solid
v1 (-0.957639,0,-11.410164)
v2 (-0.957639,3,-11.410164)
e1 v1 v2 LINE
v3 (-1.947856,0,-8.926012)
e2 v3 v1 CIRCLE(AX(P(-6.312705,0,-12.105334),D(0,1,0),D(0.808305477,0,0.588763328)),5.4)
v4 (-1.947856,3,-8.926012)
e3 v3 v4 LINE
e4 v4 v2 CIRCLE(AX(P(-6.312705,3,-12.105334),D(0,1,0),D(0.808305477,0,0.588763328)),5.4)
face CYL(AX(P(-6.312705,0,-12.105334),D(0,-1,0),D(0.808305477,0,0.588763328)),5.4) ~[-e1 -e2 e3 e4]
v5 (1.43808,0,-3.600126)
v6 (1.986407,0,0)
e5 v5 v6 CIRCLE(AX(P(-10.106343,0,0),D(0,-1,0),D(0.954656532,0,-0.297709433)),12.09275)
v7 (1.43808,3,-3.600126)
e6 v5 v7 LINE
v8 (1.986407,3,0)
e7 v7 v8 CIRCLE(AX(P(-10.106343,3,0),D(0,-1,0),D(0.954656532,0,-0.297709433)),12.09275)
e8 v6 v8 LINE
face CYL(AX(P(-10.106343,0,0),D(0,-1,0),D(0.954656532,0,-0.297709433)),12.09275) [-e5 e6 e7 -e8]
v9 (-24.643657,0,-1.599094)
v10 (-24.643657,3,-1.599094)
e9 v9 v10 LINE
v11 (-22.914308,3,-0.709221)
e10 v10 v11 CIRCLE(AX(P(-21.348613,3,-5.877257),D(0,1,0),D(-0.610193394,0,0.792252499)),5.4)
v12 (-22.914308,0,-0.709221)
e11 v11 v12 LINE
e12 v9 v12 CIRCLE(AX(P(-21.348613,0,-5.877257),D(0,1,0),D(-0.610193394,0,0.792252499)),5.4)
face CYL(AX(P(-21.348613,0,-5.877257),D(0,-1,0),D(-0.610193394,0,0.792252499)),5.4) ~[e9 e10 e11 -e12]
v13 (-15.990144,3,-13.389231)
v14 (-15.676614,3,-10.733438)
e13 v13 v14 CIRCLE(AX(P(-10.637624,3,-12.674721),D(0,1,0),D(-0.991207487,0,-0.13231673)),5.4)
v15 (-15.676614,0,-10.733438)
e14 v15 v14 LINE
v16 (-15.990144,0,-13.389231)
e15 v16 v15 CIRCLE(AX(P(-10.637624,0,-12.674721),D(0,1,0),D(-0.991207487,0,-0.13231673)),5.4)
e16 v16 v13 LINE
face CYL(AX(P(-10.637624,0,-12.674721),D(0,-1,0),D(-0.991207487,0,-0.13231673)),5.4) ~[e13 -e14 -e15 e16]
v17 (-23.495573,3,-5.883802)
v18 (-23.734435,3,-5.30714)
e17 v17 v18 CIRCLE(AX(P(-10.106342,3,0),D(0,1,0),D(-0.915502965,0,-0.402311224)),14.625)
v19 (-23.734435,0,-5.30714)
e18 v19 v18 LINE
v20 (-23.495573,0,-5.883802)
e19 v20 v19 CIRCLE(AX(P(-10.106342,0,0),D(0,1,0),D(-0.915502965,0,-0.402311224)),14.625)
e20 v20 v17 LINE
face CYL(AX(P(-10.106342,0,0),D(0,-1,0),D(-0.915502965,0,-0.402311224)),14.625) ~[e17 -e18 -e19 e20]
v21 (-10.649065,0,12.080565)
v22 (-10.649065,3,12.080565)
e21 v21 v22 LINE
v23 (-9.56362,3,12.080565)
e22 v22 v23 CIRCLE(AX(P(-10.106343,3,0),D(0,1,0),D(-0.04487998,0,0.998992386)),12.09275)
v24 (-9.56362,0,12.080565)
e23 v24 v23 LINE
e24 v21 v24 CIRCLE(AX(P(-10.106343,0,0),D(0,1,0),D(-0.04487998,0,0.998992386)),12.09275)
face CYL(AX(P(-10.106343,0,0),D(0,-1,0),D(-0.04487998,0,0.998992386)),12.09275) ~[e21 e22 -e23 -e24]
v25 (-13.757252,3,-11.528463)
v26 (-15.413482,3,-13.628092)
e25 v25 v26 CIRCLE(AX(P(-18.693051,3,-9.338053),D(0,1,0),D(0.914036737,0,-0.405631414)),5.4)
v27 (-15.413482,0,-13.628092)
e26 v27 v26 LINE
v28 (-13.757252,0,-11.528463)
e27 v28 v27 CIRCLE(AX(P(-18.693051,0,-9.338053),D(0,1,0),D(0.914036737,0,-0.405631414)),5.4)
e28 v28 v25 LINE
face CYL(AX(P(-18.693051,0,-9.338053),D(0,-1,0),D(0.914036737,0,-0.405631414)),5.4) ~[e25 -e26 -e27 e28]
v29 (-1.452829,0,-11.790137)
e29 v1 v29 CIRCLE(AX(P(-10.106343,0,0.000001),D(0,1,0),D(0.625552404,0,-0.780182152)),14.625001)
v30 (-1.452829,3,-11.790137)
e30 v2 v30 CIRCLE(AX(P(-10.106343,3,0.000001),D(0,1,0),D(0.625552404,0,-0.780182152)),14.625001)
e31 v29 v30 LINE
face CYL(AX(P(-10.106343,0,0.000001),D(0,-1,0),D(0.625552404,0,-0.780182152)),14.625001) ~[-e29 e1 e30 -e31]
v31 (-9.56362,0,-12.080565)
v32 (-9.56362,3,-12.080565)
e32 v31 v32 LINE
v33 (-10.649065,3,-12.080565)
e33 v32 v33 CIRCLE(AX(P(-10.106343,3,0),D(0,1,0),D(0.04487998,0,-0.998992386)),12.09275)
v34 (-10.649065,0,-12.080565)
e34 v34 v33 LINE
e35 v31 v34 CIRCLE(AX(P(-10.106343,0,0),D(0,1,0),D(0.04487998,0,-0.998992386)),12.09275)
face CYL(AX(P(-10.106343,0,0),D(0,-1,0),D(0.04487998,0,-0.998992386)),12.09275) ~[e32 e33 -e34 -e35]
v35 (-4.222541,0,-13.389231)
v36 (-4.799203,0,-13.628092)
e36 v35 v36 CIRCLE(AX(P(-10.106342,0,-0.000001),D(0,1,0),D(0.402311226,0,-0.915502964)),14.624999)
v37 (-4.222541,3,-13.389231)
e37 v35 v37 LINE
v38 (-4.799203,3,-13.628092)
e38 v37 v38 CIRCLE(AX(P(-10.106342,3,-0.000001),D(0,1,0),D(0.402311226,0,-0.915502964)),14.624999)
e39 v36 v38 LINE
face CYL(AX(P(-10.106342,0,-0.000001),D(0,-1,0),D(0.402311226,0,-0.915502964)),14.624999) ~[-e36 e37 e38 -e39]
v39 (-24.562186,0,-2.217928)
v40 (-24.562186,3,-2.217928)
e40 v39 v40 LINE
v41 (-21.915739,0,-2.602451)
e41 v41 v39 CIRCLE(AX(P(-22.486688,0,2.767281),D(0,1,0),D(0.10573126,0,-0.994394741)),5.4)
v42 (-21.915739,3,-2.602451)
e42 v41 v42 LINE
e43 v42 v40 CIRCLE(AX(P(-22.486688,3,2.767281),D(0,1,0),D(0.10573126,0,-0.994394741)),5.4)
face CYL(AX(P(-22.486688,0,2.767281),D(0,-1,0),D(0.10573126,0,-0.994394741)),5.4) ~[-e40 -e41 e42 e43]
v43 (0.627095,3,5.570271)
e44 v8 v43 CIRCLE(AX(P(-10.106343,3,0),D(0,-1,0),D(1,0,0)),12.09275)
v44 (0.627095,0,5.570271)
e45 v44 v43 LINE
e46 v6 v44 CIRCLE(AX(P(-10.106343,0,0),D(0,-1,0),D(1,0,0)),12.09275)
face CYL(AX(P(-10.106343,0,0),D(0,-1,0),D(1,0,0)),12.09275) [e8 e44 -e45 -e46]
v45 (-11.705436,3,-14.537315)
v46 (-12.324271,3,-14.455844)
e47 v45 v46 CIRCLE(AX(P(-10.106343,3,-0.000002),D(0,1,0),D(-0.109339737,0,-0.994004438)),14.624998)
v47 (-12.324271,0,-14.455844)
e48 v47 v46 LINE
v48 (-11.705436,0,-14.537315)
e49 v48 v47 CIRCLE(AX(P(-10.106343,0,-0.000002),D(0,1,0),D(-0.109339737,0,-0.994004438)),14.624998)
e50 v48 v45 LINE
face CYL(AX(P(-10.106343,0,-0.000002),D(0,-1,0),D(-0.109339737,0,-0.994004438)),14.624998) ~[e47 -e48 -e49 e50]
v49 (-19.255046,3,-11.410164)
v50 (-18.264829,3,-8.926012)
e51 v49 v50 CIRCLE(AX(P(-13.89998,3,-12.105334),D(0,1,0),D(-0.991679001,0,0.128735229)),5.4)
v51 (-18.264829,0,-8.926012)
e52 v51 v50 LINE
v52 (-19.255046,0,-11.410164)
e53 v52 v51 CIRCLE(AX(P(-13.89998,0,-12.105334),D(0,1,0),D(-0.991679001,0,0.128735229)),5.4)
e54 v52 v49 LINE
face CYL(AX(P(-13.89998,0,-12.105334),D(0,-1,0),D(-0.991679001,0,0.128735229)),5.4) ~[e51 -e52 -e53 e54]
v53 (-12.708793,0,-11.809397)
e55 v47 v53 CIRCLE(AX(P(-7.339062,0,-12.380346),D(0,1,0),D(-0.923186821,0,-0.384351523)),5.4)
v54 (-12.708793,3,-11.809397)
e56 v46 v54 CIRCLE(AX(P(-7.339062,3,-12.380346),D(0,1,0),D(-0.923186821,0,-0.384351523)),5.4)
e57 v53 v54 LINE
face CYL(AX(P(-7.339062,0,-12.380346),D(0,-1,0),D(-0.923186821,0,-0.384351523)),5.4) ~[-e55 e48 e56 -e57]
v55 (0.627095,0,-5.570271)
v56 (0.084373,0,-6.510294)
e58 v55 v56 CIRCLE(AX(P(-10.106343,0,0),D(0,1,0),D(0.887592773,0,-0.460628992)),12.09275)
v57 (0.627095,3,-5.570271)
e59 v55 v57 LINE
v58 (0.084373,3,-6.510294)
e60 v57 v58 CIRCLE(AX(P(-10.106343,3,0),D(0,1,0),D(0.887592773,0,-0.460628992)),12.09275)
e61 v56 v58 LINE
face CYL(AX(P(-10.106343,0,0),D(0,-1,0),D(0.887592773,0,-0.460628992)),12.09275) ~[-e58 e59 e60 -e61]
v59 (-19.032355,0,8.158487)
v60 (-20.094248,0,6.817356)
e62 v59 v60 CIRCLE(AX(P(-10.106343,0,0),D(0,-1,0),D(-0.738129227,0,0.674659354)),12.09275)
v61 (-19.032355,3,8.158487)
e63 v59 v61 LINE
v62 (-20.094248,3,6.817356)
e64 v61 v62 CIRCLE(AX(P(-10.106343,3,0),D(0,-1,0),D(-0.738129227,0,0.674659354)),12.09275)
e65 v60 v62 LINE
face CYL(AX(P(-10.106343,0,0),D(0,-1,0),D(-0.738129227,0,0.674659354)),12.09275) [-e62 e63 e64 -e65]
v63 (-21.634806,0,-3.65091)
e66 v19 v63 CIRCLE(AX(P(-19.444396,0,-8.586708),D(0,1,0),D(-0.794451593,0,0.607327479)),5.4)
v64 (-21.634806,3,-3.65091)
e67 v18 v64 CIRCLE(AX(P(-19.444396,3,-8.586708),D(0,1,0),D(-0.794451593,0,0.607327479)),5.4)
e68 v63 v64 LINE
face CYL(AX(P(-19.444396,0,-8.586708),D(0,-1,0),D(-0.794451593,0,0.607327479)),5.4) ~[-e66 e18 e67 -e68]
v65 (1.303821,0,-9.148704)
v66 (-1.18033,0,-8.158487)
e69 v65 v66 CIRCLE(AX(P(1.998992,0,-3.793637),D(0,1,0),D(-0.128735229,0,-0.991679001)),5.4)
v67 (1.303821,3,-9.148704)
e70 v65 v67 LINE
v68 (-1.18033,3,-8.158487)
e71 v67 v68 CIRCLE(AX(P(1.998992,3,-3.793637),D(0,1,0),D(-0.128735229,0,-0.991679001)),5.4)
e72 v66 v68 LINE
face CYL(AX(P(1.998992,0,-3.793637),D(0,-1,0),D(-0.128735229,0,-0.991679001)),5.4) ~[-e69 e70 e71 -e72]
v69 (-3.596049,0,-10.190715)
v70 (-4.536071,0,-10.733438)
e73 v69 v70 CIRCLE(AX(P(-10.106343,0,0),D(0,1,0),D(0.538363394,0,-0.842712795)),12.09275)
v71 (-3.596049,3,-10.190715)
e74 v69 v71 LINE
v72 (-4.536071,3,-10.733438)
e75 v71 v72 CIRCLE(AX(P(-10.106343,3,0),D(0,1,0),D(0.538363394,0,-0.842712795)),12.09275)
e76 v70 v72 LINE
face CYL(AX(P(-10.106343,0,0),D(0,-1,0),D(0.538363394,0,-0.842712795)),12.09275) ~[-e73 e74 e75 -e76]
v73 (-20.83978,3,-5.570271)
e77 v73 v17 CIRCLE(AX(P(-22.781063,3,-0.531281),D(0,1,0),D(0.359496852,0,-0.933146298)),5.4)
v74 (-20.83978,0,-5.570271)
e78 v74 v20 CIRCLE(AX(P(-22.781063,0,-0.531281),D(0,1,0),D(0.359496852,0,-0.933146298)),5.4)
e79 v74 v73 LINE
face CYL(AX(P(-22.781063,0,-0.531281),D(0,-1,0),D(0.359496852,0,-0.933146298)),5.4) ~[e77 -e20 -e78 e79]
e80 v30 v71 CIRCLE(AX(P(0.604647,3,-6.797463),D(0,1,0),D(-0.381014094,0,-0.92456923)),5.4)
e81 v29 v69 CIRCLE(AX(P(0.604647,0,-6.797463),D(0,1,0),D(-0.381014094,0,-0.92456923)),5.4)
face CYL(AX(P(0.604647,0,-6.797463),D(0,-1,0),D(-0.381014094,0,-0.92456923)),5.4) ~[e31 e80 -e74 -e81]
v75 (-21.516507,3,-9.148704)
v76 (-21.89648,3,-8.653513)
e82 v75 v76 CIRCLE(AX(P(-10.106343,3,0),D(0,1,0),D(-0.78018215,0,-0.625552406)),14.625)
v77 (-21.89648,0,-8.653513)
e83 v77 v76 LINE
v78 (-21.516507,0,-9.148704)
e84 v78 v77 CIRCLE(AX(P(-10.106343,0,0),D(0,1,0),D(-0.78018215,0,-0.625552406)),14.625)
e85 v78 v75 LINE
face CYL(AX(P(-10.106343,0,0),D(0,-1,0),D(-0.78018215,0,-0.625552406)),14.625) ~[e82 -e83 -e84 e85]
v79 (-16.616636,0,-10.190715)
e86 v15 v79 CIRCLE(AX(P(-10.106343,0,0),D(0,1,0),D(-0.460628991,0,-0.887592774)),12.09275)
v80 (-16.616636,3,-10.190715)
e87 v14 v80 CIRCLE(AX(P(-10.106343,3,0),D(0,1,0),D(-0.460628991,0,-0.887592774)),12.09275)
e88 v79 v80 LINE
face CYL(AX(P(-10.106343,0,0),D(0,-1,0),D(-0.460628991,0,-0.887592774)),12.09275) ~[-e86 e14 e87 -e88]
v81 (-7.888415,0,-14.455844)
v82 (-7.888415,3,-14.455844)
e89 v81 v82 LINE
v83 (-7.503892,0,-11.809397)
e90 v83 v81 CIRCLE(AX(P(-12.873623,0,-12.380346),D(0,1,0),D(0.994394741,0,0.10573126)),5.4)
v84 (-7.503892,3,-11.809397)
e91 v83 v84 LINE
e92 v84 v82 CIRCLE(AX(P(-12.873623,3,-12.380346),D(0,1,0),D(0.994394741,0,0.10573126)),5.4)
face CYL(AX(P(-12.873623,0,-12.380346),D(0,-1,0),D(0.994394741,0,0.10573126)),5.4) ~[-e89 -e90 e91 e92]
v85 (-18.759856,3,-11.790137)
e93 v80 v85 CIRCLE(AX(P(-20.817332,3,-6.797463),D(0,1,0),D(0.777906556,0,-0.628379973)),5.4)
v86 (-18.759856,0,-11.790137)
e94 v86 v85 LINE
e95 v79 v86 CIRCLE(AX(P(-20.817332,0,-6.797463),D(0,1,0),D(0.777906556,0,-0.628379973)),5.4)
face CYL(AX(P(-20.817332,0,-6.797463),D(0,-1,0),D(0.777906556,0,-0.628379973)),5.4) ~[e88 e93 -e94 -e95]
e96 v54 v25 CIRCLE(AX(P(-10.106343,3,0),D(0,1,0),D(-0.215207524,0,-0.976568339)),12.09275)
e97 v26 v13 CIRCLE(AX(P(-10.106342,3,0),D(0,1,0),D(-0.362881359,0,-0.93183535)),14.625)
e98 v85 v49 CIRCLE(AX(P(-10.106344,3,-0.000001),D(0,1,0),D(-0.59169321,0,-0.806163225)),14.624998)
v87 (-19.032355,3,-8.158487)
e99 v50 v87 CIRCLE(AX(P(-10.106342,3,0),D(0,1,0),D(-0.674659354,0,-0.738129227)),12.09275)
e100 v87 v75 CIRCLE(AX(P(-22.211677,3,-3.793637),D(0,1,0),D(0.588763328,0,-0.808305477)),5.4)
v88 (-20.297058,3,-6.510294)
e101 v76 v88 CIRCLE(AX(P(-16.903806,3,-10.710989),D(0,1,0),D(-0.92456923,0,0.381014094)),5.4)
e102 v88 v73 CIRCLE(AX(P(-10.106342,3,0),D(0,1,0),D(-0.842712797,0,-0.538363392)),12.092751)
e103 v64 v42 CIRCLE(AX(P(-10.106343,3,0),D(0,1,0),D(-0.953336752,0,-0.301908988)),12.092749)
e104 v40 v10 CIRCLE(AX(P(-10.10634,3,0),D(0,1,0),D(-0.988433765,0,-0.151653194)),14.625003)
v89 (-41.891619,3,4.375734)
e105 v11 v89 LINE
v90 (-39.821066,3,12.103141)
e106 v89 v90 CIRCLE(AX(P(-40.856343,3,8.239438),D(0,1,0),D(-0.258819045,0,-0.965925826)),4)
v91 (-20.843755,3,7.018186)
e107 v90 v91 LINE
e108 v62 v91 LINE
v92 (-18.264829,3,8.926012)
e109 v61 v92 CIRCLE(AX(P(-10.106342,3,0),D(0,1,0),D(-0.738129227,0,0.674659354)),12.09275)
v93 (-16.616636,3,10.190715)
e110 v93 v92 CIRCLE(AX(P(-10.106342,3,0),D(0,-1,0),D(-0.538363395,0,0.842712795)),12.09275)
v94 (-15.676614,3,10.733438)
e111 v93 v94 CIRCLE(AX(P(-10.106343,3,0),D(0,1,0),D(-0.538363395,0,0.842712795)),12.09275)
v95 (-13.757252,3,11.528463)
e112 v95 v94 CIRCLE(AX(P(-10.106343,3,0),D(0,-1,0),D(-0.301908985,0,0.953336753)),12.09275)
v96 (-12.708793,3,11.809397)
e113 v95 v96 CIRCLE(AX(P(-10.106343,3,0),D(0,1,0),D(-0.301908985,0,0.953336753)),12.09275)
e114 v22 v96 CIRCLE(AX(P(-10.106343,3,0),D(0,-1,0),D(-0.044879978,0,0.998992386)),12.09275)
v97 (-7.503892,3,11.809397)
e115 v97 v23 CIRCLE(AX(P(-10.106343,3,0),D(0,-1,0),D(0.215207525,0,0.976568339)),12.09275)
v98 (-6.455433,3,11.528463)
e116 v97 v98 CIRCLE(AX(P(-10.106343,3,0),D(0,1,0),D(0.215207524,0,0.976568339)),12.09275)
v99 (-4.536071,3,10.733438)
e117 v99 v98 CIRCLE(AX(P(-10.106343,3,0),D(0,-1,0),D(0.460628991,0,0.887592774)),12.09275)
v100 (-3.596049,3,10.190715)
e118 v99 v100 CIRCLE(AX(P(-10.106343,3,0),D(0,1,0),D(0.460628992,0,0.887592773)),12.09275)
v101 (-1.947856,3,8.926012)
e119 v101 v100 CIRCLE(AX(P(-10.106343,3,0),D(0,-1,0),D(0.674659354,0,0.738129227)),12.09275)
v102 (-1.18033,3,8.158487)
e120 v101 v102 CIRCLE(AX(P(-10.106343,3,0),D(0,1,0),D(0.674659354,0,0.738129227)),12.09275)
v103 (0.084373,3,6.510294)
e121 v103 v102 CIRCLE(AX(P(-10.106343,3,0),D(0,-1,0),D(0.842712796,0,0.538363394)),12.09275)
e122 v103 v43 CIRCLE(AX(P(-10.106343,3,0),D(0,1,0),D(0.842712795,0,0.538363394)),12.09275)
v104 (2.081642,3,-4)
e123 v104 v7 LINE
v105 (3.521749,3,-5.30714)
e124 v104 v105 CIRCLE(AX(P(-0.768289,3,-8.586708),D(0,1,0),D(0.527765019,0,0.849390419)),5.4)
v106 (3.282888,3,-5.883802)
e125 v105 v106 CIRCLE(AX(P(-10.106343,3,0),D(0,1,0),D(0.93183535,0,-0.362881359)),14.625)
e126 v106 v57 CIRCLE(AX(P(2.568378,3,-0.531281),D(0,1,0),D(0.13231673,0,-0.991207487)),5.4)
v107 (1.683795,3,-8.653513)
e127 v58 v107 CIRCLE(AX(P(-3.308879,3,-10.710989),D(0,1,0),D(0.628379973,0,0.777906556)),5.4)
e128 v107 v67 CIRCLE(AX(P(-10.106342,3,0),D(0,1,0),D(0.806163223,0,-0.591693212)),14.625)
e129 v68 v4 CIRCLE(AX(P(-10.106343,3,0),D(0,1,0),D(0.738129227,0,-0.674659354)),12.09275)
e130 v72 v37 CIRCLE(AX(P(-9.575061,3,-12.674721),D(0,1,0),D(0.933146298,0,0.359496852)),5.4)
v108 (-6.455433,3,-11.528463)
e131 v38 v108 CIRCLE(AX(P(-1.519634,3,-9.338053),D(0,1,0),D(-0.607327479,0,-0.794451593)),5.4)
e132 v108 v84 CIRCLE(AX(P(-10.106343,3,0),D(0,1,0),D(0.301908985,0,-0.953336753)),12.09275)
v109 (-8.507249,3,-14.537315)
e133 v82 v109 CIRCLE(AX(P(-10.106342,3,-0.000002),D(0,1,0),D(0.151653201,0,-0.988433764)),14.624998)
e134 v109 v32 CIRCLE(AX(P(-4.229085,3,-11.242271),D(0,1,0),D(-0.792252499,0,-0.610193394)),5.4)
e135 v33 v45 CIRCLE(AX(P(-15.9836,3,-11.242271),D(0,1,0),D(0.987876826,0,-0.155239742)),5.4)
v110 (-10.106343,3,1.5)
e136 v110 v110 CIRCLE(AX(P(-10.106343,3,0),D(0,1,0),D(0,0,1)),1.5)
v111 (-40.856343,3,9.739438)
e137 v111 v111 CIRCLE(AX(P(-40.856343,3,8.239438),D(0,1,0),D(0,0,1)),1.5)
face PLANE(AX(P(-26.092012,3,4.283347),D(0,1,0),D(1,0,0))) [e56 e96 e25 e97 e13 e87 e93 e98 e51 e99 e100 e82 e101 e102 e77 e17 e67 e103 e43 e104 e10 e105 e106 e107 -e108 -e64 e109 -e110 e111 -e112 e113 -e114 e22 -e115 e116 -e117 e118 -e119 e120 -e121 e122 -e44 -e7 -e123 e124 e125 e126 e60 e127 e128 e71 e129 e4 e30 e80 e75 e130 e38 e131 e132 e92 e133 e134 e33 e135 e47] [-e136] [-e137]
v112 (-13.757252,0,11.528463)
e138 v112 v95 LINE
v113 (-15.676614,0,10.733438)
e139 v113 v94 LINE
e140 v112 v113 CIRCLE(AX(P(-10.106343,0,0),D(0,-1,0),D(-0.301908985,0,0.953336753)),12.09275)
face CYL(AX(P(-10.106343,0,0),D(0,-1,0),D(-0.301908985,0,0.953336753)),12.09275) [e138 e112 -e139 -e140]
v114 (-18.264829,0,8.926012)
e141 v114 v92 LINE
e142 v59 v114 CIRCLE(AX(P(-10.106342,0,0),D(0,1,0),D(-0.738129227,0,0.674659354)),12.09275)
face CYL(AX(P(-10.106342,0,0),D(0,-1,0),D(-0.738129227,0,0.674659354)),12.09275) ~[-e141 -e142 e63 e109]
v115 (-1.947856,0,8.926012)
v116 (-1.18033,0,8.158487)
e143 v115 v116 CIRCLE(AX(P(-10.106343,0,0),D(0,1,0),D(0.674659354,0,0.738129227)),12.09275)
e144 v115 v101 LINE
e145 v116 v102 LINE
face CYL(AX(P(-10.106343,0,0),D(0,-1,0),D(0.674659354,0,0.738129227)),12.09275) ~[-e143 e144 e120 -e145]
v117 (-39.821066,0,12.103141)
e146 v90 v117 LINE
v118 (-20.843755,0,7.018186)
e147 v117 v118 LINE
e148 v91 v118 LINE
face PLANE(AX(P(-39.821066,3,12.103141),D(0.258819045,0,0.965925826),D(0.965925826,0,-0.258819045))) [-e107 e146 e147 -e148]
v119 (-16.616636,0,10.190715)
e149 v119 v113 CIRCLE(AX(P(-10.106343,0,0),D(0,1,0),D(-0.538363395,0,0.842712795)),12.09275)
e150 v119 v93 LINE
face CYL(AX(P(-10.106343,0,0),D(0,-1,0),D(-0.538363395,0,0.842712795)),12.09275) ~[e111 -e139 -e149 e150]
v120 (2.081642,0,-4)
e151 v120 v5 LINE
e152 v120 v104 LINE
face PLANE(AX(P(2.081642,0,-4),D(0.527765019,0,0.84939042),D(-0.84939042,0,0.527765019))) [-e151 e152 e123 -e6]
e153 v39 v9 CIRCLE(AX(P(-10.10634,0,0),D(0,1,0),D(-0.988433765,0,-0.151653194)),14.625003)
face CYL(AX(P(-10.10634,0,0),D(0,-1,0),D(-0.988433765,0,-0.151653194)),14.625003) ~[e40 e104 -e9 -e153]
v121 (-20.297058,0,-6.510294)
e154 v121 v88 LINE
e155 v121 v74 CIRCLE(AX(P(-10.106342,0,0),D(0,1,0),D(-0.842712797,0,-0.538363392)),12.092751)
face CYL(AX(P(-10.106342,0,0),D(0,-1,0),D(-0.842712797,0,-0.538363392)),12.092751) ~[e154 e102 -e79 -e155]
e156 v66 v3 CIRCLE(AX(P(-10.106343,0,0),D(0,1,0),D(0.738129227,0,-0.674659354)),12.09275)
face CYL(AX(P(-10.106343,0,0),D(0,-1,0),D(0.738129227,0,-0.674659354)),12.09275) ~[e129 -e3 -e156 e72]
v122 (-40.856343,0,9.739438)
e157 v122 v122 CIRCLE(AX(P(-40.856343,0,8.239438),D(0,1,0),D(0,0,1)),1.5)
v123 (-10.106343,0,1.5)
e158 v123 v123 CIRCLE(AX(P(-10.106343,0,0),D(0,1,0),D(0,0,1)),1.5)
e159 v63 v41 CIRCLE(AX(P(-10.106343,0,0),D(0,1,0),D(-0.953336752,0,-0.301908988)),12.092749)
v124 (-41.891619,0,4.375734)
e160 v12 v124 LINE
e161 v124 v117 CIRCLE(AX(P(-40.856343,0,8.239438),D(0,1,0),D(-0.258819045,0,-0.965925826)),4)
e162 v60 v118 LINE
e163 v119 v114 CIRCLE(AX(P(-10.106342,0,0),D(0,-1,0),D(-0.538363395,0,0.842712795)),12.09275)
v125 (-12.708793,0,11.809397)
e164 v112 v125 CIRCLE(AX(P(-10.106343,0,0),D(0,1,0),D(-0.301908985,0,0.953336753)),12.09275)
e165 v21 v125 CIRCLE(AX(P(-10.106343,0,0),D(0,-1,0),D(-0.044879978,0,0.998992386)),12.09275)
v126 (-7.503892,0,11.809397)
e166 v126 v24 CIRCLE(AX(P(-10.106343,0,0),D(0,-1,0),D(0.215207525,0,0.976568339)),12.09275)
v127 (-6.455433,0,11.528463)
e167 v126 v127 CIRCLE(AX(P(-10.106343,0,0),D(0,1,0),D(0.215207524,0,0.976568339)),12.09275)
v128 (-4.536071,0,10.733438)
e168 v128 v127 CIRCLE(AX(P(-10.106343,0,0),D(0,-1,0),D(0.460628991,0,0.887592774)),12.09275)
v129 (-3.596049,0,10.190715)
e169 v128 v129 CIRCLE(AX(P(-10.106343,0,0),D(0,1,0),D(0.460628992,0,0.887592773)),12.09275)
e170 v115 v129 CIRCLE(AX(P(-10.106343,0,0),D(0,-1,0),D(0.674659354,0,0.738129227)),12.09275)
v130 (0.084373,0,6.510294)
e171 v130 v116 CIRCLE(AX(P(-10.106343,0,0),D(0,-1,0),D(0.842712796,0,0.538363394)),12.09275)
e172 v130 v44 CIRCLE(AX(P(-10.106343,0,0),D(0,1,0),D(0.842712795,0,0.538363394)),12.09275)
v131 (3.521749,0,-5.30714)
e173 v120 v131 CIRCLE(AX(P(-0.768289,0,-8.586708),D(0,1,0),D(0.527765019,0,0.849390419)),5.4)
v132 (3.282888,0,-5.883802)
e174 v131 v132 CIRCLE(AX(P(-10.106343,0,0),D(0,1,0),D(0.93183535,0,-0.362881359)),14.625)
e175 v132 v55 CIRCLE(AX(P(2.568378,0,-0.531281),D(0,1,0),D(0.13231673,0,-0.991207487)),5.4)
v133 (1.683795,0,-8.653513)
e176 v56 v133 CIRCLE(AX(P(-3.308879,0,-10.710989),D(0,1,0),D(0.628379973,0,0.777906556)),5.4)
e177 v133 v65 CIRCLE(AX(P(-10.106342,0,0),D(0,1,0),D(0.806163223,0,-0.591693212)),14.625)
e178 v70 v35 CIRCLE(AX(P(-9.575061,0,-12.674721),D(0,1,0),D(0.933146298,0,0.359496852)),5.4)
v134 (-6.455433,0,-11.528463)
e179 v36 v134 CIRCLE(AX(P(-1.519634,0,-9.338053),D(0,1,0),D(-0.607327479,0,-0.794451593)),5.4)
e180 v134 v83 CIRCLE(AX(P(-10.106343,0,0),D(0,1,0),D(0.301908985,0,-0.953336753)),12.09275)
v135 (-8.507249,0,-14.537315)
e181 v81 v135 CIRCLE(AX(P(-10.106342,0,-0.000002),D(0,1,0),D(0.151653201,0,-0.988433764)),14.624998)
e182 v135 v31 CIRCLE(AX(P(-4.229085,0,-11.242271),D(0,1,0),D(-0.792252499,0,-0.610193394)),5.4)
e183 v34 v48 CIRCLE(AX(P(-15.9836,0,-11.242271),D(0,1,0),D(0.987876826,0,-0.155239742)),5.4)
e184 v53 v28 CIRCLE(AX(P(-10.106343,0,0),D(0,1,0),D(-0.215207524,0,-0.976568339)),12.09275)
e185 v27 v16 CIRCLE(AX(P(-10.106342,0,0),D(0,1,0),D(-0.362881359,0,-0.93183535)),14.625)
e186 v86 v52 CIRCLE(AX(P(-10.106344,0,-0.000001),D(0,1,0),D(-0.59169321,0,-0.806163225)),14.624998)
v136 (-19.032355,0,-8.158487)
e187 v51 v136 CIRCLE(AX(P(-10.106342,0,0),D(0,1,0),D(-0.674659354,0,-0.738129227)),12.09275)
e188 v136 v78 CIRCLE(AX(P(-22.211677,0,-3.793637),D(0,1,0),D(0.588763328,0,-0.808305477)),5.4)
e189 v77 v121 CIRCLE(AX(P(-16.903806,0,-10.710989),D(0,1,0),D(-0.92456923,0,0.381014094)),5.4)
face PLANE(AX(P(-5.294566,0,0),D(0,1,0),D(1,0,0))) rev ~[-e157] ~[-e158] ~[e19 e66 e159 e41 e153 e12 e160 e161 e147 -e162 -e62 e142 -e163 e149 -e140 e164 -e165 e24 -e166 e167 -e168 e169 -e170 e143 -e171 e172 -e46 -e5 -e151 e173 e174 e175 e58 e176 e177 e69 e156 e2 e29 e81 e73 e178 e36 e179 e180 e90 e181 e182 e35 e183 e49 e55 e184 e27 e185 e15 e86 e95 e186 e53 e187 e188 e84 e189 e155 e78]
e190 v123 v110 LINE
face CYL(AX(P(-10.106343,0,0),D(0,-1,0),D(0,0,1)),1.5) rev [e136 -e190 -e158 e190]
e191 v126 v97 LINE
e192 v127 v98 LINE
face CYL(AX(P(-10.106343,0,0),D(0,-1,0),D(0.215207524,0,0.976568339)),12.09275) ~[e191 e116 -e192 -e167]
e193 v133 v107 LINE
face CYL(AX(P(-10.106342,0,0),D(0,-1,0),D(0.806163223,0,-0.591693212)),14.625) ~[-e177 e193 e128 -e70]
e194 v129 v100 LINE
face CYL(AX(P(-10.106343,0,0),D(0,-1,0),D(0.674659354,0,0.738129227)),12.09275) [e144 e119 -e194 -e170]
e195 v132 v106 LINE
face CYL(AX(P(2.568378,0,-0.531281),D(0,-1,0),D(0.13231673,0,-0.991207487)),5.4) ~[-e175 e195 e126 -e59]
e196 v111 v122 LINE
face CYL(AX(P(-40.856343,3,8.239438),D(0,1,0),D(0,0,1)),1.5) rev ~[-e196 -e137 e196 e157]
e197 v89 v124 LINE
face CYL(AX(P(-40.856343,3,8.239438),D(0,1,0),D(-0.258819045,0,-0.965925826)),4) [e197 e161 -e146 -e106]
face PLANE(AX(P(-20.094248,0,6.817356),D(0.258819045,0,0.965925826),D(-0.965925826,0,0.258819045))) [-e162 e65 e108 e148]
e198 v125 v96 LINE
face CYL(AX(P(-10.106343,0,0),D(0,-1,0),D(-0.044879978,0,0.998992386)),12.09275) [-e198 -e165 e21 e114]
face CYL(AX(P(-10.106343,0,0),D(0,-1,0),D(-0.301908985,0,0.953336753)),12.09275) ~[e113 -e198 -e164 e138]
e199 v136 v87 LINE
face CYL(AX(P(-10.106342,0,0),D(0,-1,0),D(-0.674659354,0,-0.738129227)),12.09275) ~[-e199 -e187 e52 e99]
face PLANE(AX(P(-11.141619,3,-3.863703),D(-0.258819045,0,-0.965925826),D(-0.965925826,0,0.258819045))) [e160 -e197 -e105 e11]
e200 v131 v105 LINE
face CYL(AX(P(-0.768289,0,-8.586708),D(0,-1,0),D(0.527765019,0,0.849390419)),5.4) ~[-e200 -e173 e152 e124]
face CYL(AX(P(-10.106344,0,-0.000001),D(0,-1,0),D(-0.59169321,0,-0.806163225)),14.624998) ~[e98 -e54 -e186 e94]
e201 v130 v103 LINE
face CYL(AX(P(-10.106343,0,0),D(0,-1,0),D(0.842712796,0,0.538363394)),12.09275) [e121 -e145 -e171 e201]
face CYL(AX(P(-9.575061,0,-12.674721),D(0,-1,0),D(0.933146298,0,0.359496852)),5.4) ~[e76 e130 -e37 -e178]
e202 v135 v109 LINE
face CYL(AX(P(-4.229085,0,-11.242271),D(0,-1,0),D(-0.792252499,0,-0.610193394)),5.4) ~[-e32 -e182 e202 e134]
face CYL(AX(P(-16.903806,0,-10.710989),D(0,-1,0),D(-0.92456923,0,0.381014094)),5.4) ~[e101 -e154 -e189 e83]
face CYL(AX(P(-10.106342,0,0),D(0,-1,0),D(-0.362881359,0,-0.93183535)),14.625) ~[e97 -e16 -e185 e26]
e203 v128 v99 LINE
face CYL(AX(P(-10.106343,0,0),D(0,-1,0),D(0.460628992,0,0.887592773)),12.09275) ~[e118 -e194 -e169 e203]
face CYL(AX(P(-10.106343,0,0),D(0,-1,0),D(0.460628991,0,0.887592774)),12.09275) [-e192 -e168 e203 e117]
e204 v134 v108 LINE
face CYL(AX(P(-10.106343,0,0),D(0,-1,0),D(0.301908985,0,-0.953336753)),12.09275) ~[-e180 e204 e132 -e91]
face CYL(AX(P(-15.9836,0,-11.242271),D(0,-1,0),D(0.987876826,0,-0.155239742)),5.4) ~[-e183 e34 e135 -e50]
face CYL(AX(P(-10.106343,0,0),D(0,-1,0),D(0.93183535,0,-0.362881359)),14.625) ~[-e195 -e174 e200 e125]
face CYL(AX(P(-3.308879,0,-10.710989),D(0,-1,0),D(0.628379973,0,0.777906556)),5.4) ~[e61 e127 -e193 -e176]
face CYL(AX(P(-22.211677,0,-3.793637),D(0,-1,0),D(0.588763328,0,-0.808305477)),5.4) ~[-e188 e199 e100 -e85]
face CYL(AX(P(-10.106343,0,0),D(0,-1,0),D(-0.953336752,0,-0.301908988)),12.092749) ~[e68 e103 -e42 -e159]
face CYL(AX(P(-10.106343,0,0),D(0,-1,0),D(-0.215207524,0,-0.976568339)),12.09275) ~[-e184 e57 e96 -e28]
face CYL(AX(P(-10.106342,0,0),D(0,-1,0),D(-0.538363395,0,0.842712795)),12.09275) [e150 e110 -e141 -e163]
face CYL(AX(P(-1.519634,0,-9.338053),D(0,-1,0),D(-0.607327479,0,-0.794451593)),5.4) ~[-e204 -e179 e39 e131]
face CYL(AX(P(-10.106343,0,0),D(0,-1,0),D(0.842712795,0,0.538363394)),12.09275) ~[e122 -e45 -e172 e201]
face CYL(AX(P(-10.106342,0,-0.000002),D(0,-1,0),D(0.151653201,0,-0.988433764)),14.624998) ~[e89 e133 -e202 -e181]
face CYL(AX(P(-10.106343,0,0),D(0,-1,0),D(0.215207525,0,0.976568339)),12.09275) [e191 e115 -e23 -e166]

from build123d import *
from build123d.topology import SkipClean

# Parameters (mm, degrees)
SKETCH1_R           = 1.5
BOSS_EXTRUDE1_DEPTH = 3
SKETCH3_R           = 1.5
BOSS_EXTRUDE2_DEPTH = 3
CUT_EXTRUDE1_START  = -3
CUT_EXTRUDE1_DEPTH  = 3


with BuildPart() as part:
    # Sketch1 → Boss-Extrude1 (new body)
    with BuildSketch(Plane(origin=(0, 0, 0), x_dir=(1, 0, 0), z_dir=(0, 1, 0))):
        with BuildLine():
            Line((20.643657446, 4), (2.081641936, 4))
            ThreePointArc((2.081641936, 4), (2.861028333, 4.588201733), (3.521749436, 5.30713988))
            ThreePointArc((3.521749436, 5.30713988), (3.405395609, 5.596745198), (3.282888305, 5.883801663))
            ThreePointArc((3.282888305, 5.883801663), (1.93527598, 5.894040025), (0.627094961, 5.57027124))
            ThreePointArc((0.627094961, 5.57027124), (0.366286148, 6.046375), (0.084372603, 6.510293938))
            ThreePointArc((0.084372603, 6.510293938), (1.018855105, 7.48132754), (1.683794586, 8.65351323))
            ThreePointArc((1.683794586, 8.65351323), (1.496450048, 8.903135899), (1.303821399, 9.148703928))
            ThreePointArc((1.303821399, 9.148703928), (-0.000522033, 8.809805691), (-1.180330337, 8.158486898))
            ThreePointArc((-1.180330337, 8.158486898), (-1.555477026, 8.550865528), (-1.947855656, 8.926012217))
            ThreePointArc((-1.947855656, 8.926012217), (-1.296536862, 10.105820521), (-0.957638625, 11.410163953))
            ThreePointArc((-0.957638625, 11.410163953), (-1.203206655, 11.602792602), (-1.452829324, 11.79013714))
            ThreePointArc((-1.452829324, 11.79013714), (-2.625015014, 11.125197659), (-3.596048616, 10.190715157))
            ThreePointArc((-3.596048616, 10.190715157), (-4.059967554, 10.472628702), (-4.536071314, 10.733437515))
            ThreePointArc((-4.536071314, 10.733437515), (-4.212302529, 12.041618533), (-4.222540891, 13.389230859))
            ThreePointArc((-4.222540891, 13.389230859), (-4.509597355, 13.511738163), (-4.799202674, 13.62809199))
            ThreePointArc((-4.799202674, 13.62809199), (-5.759348103, 12.682425791), (-6.455432668, 11.528463019))
            ThreePointArc((-6.455432668, 11.528463019), (-6.976508546, 11.680699536), (-7.503891752, 11.809396783))
            ThreePointArc((-7.503891752, 11.809396783), (-7.529737283, 13.156800143), (-7.888414517, 14.455843809))
            ThreePointArc((-7.888414517, 14.455843809), (-8.197396993, 14.499881098), (-8.507248835, 14.537314892))
            ThreePointArc((-8.507248835, 14.537314892), (-9.18992168, 13.375367565), (-9.563620196, 12.080565177))
            ThreePointArc((-9.563620196, 12.080565177), (-10.106342554, 12.09275), (-10.649064912, 12.080565177))
            ThreePointArc((-10.649064912, 12.080565177), (-11.022763428, 13.375367565), (-11.705436272, 14.537314892))
            ThreePointArc((-11.705436272, 14.537314892), (-12.015288115, 14.499881098), (-12.324270591, 14.455843809))
            ThreePointArc((-12.324270591, 14.455843809), (-12.682947825, 13.156800143), (-12.708793355, 11.809396783))
            ThreePointArc((-12.708793355, 11.809396783), (-13.236176561, 11.680699536), (-13.757252439, 11.528463019))
            ThreePointArc((-13.757252439, 11.528463019), (-14.453337005, 12.682425791), (-15.413482434, 13.62809199))
            ThreePointArc((-15.413482434, 13.62809199), (-15.703087752, 13.511738163), (-15.990144217, 13.389230859))
            ThreePointArc((-15.990144217, 13.389230859), (-16.000382579, 12.041618533), (-15.676613793, 10.733437515))
            ThreePointArc((-15.676613793, 10.733437515), (-16.152717554, 10.472628702), (-16.616636492, 10.190715157))
            ThreePointArc((-16.616636492, 10.190715157), (-17.587670094, 11.125197659), (-18.759855783, 11.79013714))
            ThreePointArc((-18.759855783, 11.79013714), (-19.009478453, 11.602792602), (-19.255046482, 11.410163953))
            ThreePointArc((-19.255046482, 11.410163953), (-18.916148245, 10.105820521), (-18.264829452, 8.926012217))
            ThreePointArc((-18.264829452, 8.926012217), (-18.657208082, 8.550865528), (-19.032354771, 8.158486898))
            ThreePointArc((-19.032354771, 8.158486898), (-20.212163074, 8.809805691), (-21.516506507, 9.148703928))
            ThreePointArc((-21.516506507, 9.148703928), (-21.709135156, 8.903135899), (-21.896479694, 8.65351323))
            ThreePointArc((-21.896479694, 8.65351323), (-21.231540213, 7.48132754), (-20.297057711, 6.510293938))
            ThreePointArc((-20.297057711, 6.510293938), (-20.578971255, 6.046375), (-20.839780068, 5.57027124))
            ThreePointArc((-20.839780068, 5.57027124), (-22.147961087, 5.894040025), (-23.495573413, 5.883801663))
            ThreePointArc((-23.495573413, 5.883801663), (-23.618080717, 5.596745198), (-23.734434544, 5.30713988))
            ThreePointArc((-23.734434544, 5.30713988), (-22.788768345, 4.346994451), (-21.634805572, 3.650909885))
            ThreePointArc((-21.634805572, 3.650909885), (-21.78704209, 3.129834008), (-21.915739337, 2.602450802))
            ThreePointArc((-21.915739337, 2.602450802), (-23.263142697, 2.576605271), (-24.562186363, 2.217928037))
            ThreePointArc((-24.562186363, 2.217928037), (-24.606223651, 1.908945561), (-24.643657446, 1.599093719))
            ThreePointArc((-24.643657446, 1.599093719), (-23.481710119, 0.916420874), (-22.186907731, 0.542722358))
            ThreePointArc((-22.186907731, 0.542722358), (-22.199092554, 0), (-22.186907731, -0.542722358))
            ThreePointArc((-22.186907731, -0.542722358), (-23.481710119, -0.916420874), (-24.643657446, -1.599093719))
            ThreePointArc((-24.643657446, -1.599093719), (-24.606223651, -1.908945561), (-24.562186363, -2.217928037))
            ThreePointArc((-24.562186363, -2.217928037), (-23.263142697, -2.576605271), (-21.915739337, -2.602450802))
            ThreePointArc((-21.915739337, -2.602450802), (-21.78704209, -3.129834008), (-21.634805572, -3.650909885))
            ThreePointArc((-21.634805572, -3.650909885), (-22.788768345, -4.346994451), (-23.734434544, -5.30713988))
            ThreePointArc((-23.734434544, -5.30713988), (-23.618080717, -5.596745198), (-23.495573413, -5.883801663))
            ThreePointArc((-23.495573413, -5.883801663), (-22.147961087, -5.894040025), (-20.839780068, -5.57027124))
            ThreePointArc((-20.839780068, -5.57027124), (-20.578971255, -6.046375), (-20.297057711, -6.510293938))
            ThreePointArc((-20.297057711, -6.510293938), (-21.231540213, -7.48132754), (-21.896479694, -8.65351323))
            ThreePointArc((-21.896479694, -8.65351323), (-21.709135156, -8.903135899), (-21.516506507, -9.148703928))
            ThreePointArc((-21.516506507, -9.148703928), (-20.212163074, -8.809805691), (-19.032354771, -8.158486898))
            ThreePointArc((-19.032354771, -8.158486898), (-18.657208082, -8.550865528), (-18.264829452, -8.926012217))
            ThreePointArc((-18.264829452, -8.926012217), (-18.916148245, -10.105820521), (-19.255046482, -11.410163953))
            ThreePointArc((-19.255046482, -11.410163953), (-19.009478453, -11.602792602), (-18.759855783, -11.79013714))
            ThreePointArc((-18.759855783, -11.79013714), (-17.587670094, -11.125197659), (-16.616636492, -10.190715157))
            ThreePointArc((-16.616636492, -10.190715157), (-16.152717554, -10.472628702), (-15.676613793, -10.733437515))
            ThreePointArc((-15.676613793, -10.733437515), (-16.000382579, -12.041618533), (-15.990144217, -13.389230859))
            ThreePointArc((-15.990144217, -13.389230859), (-15.703087752, -13.511738163), (-15.413482434, -13.62809199))
            ThreePointArc((-15.413482434, -13.62809199), (-14.453337005, -12.682425791), (-13.757252439, -11.528463019))
            ThreePointArc((-13.757252439, -11.528463019), (-13.236176561, -11.680699536), (-12.708793355, -11.809396783))
            ThreePointArc((-12.708793355, -11.809396783), (-12.682947825, -13.156800143), (-12.324270591, -14.455843809))
            ThreePointArc((-12.324270591, -14.455843809), (-12.015288115, -14.499881098), (-11.705436272, -14.537314892))
            ThreePointArc((-11.705436272, -14.537314892), (-11.022763428, -13.375367565), (-10.649064912, -12.080565177))
            ThreePointArc((-10.649064912, -12.080565177), (-10.106342554, -12.09275), (-9.563620196, -12.080565177))
            ThreePointArc((-9.563620196, -12.080565177), (-9.18992168, -13.375367565), (-8.507248835, -14.537314892))
            ThreePointArc((-8.507248835, -14.537314892), (-8.197396993, -14.499881098), (-7.888414517, -14.455843809))
            ThreePointArc((-7.888414517, -14.455843809), (-7.529737283, -13.156800143), (-7.503891752, -11.809396783))
            ThreePointArc((-7.503891752, -11.809396783), (-6.976508546, -11.680699536), (-6.455432668, -11.528463019))
            ThreePointArc((-6.455432668, -11.528463019), (-5.759348103, -12.682425791), (-4.799202674, -13.62809199))
            ThreePointArc((-4.799202674, -13.62809199), (-4.509597355, -13.511738163), (-4.222540891, -13.389230859))
            ThreePointArc((-4.222540891, -13.389230859), (-4.212302529, -12.041618533), (-4.536071314, -10.733437515))
            ThreePointArc((-4.536071314, -10.733437515), (-4.059967554, -10.472628702), (-3.596048616, -10.190715157))
            ThreePointArc((-3.596048616, -10.190715157), (-2.625015014, -11.125197659), (-1.452829324, -11.79013714))
            ThreePointArc((-1.452829324, -11.79013714), (-1.203206655, -11.602792602), (-0.957638625, -11.410163953))
            ThreePointArc((-0.957638625, -11.410163953), (-1.296536862, -10.105820521), (-1.947855656, -8.926012217))
            ThreePointArc((-1.947855656, -8.926012217), (-1.555477026, -8.550865528), (-1.180330337, -8.158486898))
            ThreePointArc((-1.180330337, -8.158486898), (-0.000522033, -8.809805691), (1.303821399, -9.148703928))
            ThreePointArc((1.303821399, -9.148703928), (1.496450048, -8.903135899), (1.683794586, -8.65351323))
            ThreePointArc((1.683794586, -8.65351323), (1.018855105, -7.48132754), (0.084372603, -6.510293938))
            ThreePointArc((0.084372603, -6.510293938), (0.366286148, -6.046375), (0.627094961, -5.57027124))
            ThreePointArc((0.627094961, -5.57027124), (1.93527598, -5.894040025), (3.282888305, -5.883801663))
            ThreePointArc((3.282888305, -5.883801663), (3.405395609, -5.596745198), (3.521749436, -5.30713988))
            ThreePointArc((3.521749436, -5.30713988), (2.861028333, -4.588201733), (2.081641936, -4))
            Line((2.081641936, -4), (20.643657446, -4))
            ThreePointArc((20.643657446, -4), (24.643657446, 0), (20.643657446, 4))
        make_face()
        with Locations(Location((-10.106342554, 0, 0), (0, 0, 270))):
            Circle(SKETCH1_R, mode=Mode.SUBTRACT)
        with Locations(Location((20.643657446, 0, 0), (0, 0, 270))):
            Circle(SKETCH1_R, mode=Mode.SUBTRACT)
    extrude(amount=BOSS_EXTRUDE1_DEPTH)

    # Sketch3 → Boss-Extrude2 (add)
    with BuildSketch(Plane(origin=(0, 3, 0), x_dir=(1, 0, 0), z_dir=(0, 1, 0))):
        with BuildLine():
            ThreePointArc((-9.071066373, -3.863703305), (-13.970045859, -1.03527618), (-11.141618734, 3.863703305))
            Line((-11.141618734, 3.863703305), (-41.891618734, -4.375734362))
            ThreePointArc((-41.891618734, -4.375734362), (-44.720045859, -9.274713848), (-39.821066373, -12.103140972))
            Line((-39.821066373, -12.103140972), (-9.071066373, -3.863703305))
        make_face()
        with Locations(Location((-40.856342554, -8.239437667, 0), (0, 0, 270))):
            Circle(SKETCH3_R, mode=Mode.SUBTRACT)
    extrude(amount=-BOSS_EXTRUDE2_DEPTH)

    # Sketch4 → Cut-Extrude1 (cut)
    with SkipClean():  # the faces are left unmerged after this step: merging them gives an invalid solid
        with BuildSketch(Plane(origin=(0, 3, 0), x_dir=(1, 0, 0), z_dir=(0, 1, 0)).offset(CUT_EXTRUDE1_START)):
            with BuildLine():
                ThreePointArc((-21.516506507, -9.148703928), (-20.212163074, -8.809805691), (-19.032354771, -8.158486898))
                ThreePointArc((-19.032354771, -8.158486898), (-19.58704562, -7.506721784), (-20.094248238, -6.817355984))
                Line((-20.094248238, -6.817355984), (-20.843755363, -7.018185813))
                ThreePointArc((-20.843755363, -7.018185813), (-21.444347002, -7.788065101), (-21.896479694, -8.65351323))
                ThreePointArc((-21.896479694, -8.65351323), (-21.709135156, -8.903135899), (-21.516506507, -9.148703928))
            make_face()
            with BuildLine():
                ThreePointArc((-18.759855783, -11.79013714), (-17.587670094, -11.125197659), (-16.616636492, -10.190715157))
                ThreePointArc((-16.616636492, -10.190715157), (-17.467942324, -9.593823606), (-18.264829452, -8.926012217))
                ThreePointArc((-18.264829452, -8.926012217), (-18.916148245, -10.105820521), (-19.255046482, -11.410163953))
                ThreePointArc((-19.255046482, -11.410163953), (-19.009478453, -11.602792602), (-18.759855783, -11.79013714))
            make_face()
            with BuildLine():
                ThreePointArc((-15.413482434, -13.62809199), (-14.453337005, -12.682425791), (-13.757252439, -11.528463019))
                ThreePointArc((-13.757252439, -11.528463019), (-14.734037631, -11.172244217), (-15.676613793, -10.733437515))
                ThreePointArc((-15.676613793, -10.733437515), (-16.000382579, -12.041618533), (-15.990144217, -13.389230859))
                ThreePointArc((-15.990144217, -13.389230859), (-15.703087752, -13.511738163), (-15.413482434, -13.62809199))
            make_face()
            with BuildLine():
                ThreePointArc((-11.705436272, -14.537314892), (-11.022763428, -13.375367565), (-10.649064912, -12.080565177))
                ThreePointArc((-10.649064912, -12.080565177), (-11.684763165, -11.989294847), (-12.708793355, -11.809396783))
                ThreePointArc((-12.708793355, -11.809396783), (-12.682947825, -13.156800143), (-12.324270591, -14.455843809))
                ThreePointArc((-12.324270591, -14.455843809), (-12.015288115, -14.499881098), (-11.705436272, -14.537314892))
            make_face()
            with BuildLine():
                ThreePointArc((-7.888414517, -14.455843809), (-7.529737283, -13.156800143), (-7.503891752, -11.809396783))
                ThreePointArc((-7.503891752, -11.809396783), (-8.527921943, -11.989294847), (-9.563620196, -12.080565177))
                ThreePointArc((-9.563620196, -12.080565177), (-9.18992168, -13.375367565), (-8.507248835, -14.537314892))
                ThreePointArc((-8.507248835, -14.537314892), (-8.197396993, -14.499881098), (-7.888414517, -14.455843809))
            make_face()
            with BuildLine():
                ThreePointArc((-4.222540891, -13.389230859), (-4.212302529, -12.041618533), (-4.536071314, -10.733437515))
                ThreePointArc((-4.536071314, -10.733437515), (-5.478647477, -11.172244217), (-6.455432668, -11.528463019))
                ThreePointArc((-6.455432668, -11.528463019), (-5.759348103, -12.682425791), (-4.799202674, -13.62809199))
                ThreePointArc((-4.799202674, -13.62809199), (-4.509597355, -13.511738163), (-4.222540891, -13.389230859))
            make_face()
            with BuildLine():
                ThreePointArc((-0.957638625, -11.410163953), (-1.296536862, -10.105820521), (-1.947855656, -8.926012217))
                ThreePointArc((-1.947855656, -8.926012217), (-2.744742783, -9.593823606), (-3.596048616, -10.190715157))
                ThreePointArc((-3.596048616, -10.190715157), (-2.625015014, -11.125197659), (-1.452829324, -11.79013714))
                ThreePointArc((-1.452829324, -11.79013714), (-1.203206655, -11.602792602), (-0.957638625, -11.410163953))
            make_face()
            with BuildLine():
                ThreePointArc((1.683794586, -8.65351323), (1.018855105, -7.48132754), (0.084372603, -6.510293938))
                ThreePointArc((0.084372603, -6.510293938), (-0.512518948, -7.361599771), (-1.180330337, -8.158486898))
                ThreePointArc((-1.180330337, -8.158486898), (-0.000522033, -8.809805691), (1.303821399, -9.148703928))
                ThreePointArc((1.303821399, -9.148703928), (1.496450048, -8.903135899), (1.683794586, -8.65351323))
            make_face()
            with BuildLine():
                ThreePointArc((20.643657446, -4), (24.643657446, 0), (20.643657446, 4))
                Line((20.643657446, 4), (2.081641936, 4))
                Line((2.081641936, 4), (1.43808022, 3.600125745))
                ThreePointArc((1.43808022, 3.600125745), (1.848539735, 1.820821801), (1.986407446, 0))
                ThreePointArc((1.986407446, 0), (1.641665343, -2.866864669), (0.627094961, -5.57027124))
                ThreePointArc((0.627094961, -5.57027124), (1.93527598, -5.894040025), (3.282888305, -5.883801663))
                ThreePointArc((3.282888305, -5.883801663), (3.405395609, -5.596745198), (3.521749436, -5.30713988))
                ThreePointArc((3.521749436, -5.30713988), (2.861028333, -4.588201733), (2.081641936, -4))
                Line((2.081641936, -4), (20.643657446, -4))
            make_face()
        extrude(amount=CUT_EXTRUDE1_DEPTH, mode=Mode.SUBTRACT)


solid = part.part
